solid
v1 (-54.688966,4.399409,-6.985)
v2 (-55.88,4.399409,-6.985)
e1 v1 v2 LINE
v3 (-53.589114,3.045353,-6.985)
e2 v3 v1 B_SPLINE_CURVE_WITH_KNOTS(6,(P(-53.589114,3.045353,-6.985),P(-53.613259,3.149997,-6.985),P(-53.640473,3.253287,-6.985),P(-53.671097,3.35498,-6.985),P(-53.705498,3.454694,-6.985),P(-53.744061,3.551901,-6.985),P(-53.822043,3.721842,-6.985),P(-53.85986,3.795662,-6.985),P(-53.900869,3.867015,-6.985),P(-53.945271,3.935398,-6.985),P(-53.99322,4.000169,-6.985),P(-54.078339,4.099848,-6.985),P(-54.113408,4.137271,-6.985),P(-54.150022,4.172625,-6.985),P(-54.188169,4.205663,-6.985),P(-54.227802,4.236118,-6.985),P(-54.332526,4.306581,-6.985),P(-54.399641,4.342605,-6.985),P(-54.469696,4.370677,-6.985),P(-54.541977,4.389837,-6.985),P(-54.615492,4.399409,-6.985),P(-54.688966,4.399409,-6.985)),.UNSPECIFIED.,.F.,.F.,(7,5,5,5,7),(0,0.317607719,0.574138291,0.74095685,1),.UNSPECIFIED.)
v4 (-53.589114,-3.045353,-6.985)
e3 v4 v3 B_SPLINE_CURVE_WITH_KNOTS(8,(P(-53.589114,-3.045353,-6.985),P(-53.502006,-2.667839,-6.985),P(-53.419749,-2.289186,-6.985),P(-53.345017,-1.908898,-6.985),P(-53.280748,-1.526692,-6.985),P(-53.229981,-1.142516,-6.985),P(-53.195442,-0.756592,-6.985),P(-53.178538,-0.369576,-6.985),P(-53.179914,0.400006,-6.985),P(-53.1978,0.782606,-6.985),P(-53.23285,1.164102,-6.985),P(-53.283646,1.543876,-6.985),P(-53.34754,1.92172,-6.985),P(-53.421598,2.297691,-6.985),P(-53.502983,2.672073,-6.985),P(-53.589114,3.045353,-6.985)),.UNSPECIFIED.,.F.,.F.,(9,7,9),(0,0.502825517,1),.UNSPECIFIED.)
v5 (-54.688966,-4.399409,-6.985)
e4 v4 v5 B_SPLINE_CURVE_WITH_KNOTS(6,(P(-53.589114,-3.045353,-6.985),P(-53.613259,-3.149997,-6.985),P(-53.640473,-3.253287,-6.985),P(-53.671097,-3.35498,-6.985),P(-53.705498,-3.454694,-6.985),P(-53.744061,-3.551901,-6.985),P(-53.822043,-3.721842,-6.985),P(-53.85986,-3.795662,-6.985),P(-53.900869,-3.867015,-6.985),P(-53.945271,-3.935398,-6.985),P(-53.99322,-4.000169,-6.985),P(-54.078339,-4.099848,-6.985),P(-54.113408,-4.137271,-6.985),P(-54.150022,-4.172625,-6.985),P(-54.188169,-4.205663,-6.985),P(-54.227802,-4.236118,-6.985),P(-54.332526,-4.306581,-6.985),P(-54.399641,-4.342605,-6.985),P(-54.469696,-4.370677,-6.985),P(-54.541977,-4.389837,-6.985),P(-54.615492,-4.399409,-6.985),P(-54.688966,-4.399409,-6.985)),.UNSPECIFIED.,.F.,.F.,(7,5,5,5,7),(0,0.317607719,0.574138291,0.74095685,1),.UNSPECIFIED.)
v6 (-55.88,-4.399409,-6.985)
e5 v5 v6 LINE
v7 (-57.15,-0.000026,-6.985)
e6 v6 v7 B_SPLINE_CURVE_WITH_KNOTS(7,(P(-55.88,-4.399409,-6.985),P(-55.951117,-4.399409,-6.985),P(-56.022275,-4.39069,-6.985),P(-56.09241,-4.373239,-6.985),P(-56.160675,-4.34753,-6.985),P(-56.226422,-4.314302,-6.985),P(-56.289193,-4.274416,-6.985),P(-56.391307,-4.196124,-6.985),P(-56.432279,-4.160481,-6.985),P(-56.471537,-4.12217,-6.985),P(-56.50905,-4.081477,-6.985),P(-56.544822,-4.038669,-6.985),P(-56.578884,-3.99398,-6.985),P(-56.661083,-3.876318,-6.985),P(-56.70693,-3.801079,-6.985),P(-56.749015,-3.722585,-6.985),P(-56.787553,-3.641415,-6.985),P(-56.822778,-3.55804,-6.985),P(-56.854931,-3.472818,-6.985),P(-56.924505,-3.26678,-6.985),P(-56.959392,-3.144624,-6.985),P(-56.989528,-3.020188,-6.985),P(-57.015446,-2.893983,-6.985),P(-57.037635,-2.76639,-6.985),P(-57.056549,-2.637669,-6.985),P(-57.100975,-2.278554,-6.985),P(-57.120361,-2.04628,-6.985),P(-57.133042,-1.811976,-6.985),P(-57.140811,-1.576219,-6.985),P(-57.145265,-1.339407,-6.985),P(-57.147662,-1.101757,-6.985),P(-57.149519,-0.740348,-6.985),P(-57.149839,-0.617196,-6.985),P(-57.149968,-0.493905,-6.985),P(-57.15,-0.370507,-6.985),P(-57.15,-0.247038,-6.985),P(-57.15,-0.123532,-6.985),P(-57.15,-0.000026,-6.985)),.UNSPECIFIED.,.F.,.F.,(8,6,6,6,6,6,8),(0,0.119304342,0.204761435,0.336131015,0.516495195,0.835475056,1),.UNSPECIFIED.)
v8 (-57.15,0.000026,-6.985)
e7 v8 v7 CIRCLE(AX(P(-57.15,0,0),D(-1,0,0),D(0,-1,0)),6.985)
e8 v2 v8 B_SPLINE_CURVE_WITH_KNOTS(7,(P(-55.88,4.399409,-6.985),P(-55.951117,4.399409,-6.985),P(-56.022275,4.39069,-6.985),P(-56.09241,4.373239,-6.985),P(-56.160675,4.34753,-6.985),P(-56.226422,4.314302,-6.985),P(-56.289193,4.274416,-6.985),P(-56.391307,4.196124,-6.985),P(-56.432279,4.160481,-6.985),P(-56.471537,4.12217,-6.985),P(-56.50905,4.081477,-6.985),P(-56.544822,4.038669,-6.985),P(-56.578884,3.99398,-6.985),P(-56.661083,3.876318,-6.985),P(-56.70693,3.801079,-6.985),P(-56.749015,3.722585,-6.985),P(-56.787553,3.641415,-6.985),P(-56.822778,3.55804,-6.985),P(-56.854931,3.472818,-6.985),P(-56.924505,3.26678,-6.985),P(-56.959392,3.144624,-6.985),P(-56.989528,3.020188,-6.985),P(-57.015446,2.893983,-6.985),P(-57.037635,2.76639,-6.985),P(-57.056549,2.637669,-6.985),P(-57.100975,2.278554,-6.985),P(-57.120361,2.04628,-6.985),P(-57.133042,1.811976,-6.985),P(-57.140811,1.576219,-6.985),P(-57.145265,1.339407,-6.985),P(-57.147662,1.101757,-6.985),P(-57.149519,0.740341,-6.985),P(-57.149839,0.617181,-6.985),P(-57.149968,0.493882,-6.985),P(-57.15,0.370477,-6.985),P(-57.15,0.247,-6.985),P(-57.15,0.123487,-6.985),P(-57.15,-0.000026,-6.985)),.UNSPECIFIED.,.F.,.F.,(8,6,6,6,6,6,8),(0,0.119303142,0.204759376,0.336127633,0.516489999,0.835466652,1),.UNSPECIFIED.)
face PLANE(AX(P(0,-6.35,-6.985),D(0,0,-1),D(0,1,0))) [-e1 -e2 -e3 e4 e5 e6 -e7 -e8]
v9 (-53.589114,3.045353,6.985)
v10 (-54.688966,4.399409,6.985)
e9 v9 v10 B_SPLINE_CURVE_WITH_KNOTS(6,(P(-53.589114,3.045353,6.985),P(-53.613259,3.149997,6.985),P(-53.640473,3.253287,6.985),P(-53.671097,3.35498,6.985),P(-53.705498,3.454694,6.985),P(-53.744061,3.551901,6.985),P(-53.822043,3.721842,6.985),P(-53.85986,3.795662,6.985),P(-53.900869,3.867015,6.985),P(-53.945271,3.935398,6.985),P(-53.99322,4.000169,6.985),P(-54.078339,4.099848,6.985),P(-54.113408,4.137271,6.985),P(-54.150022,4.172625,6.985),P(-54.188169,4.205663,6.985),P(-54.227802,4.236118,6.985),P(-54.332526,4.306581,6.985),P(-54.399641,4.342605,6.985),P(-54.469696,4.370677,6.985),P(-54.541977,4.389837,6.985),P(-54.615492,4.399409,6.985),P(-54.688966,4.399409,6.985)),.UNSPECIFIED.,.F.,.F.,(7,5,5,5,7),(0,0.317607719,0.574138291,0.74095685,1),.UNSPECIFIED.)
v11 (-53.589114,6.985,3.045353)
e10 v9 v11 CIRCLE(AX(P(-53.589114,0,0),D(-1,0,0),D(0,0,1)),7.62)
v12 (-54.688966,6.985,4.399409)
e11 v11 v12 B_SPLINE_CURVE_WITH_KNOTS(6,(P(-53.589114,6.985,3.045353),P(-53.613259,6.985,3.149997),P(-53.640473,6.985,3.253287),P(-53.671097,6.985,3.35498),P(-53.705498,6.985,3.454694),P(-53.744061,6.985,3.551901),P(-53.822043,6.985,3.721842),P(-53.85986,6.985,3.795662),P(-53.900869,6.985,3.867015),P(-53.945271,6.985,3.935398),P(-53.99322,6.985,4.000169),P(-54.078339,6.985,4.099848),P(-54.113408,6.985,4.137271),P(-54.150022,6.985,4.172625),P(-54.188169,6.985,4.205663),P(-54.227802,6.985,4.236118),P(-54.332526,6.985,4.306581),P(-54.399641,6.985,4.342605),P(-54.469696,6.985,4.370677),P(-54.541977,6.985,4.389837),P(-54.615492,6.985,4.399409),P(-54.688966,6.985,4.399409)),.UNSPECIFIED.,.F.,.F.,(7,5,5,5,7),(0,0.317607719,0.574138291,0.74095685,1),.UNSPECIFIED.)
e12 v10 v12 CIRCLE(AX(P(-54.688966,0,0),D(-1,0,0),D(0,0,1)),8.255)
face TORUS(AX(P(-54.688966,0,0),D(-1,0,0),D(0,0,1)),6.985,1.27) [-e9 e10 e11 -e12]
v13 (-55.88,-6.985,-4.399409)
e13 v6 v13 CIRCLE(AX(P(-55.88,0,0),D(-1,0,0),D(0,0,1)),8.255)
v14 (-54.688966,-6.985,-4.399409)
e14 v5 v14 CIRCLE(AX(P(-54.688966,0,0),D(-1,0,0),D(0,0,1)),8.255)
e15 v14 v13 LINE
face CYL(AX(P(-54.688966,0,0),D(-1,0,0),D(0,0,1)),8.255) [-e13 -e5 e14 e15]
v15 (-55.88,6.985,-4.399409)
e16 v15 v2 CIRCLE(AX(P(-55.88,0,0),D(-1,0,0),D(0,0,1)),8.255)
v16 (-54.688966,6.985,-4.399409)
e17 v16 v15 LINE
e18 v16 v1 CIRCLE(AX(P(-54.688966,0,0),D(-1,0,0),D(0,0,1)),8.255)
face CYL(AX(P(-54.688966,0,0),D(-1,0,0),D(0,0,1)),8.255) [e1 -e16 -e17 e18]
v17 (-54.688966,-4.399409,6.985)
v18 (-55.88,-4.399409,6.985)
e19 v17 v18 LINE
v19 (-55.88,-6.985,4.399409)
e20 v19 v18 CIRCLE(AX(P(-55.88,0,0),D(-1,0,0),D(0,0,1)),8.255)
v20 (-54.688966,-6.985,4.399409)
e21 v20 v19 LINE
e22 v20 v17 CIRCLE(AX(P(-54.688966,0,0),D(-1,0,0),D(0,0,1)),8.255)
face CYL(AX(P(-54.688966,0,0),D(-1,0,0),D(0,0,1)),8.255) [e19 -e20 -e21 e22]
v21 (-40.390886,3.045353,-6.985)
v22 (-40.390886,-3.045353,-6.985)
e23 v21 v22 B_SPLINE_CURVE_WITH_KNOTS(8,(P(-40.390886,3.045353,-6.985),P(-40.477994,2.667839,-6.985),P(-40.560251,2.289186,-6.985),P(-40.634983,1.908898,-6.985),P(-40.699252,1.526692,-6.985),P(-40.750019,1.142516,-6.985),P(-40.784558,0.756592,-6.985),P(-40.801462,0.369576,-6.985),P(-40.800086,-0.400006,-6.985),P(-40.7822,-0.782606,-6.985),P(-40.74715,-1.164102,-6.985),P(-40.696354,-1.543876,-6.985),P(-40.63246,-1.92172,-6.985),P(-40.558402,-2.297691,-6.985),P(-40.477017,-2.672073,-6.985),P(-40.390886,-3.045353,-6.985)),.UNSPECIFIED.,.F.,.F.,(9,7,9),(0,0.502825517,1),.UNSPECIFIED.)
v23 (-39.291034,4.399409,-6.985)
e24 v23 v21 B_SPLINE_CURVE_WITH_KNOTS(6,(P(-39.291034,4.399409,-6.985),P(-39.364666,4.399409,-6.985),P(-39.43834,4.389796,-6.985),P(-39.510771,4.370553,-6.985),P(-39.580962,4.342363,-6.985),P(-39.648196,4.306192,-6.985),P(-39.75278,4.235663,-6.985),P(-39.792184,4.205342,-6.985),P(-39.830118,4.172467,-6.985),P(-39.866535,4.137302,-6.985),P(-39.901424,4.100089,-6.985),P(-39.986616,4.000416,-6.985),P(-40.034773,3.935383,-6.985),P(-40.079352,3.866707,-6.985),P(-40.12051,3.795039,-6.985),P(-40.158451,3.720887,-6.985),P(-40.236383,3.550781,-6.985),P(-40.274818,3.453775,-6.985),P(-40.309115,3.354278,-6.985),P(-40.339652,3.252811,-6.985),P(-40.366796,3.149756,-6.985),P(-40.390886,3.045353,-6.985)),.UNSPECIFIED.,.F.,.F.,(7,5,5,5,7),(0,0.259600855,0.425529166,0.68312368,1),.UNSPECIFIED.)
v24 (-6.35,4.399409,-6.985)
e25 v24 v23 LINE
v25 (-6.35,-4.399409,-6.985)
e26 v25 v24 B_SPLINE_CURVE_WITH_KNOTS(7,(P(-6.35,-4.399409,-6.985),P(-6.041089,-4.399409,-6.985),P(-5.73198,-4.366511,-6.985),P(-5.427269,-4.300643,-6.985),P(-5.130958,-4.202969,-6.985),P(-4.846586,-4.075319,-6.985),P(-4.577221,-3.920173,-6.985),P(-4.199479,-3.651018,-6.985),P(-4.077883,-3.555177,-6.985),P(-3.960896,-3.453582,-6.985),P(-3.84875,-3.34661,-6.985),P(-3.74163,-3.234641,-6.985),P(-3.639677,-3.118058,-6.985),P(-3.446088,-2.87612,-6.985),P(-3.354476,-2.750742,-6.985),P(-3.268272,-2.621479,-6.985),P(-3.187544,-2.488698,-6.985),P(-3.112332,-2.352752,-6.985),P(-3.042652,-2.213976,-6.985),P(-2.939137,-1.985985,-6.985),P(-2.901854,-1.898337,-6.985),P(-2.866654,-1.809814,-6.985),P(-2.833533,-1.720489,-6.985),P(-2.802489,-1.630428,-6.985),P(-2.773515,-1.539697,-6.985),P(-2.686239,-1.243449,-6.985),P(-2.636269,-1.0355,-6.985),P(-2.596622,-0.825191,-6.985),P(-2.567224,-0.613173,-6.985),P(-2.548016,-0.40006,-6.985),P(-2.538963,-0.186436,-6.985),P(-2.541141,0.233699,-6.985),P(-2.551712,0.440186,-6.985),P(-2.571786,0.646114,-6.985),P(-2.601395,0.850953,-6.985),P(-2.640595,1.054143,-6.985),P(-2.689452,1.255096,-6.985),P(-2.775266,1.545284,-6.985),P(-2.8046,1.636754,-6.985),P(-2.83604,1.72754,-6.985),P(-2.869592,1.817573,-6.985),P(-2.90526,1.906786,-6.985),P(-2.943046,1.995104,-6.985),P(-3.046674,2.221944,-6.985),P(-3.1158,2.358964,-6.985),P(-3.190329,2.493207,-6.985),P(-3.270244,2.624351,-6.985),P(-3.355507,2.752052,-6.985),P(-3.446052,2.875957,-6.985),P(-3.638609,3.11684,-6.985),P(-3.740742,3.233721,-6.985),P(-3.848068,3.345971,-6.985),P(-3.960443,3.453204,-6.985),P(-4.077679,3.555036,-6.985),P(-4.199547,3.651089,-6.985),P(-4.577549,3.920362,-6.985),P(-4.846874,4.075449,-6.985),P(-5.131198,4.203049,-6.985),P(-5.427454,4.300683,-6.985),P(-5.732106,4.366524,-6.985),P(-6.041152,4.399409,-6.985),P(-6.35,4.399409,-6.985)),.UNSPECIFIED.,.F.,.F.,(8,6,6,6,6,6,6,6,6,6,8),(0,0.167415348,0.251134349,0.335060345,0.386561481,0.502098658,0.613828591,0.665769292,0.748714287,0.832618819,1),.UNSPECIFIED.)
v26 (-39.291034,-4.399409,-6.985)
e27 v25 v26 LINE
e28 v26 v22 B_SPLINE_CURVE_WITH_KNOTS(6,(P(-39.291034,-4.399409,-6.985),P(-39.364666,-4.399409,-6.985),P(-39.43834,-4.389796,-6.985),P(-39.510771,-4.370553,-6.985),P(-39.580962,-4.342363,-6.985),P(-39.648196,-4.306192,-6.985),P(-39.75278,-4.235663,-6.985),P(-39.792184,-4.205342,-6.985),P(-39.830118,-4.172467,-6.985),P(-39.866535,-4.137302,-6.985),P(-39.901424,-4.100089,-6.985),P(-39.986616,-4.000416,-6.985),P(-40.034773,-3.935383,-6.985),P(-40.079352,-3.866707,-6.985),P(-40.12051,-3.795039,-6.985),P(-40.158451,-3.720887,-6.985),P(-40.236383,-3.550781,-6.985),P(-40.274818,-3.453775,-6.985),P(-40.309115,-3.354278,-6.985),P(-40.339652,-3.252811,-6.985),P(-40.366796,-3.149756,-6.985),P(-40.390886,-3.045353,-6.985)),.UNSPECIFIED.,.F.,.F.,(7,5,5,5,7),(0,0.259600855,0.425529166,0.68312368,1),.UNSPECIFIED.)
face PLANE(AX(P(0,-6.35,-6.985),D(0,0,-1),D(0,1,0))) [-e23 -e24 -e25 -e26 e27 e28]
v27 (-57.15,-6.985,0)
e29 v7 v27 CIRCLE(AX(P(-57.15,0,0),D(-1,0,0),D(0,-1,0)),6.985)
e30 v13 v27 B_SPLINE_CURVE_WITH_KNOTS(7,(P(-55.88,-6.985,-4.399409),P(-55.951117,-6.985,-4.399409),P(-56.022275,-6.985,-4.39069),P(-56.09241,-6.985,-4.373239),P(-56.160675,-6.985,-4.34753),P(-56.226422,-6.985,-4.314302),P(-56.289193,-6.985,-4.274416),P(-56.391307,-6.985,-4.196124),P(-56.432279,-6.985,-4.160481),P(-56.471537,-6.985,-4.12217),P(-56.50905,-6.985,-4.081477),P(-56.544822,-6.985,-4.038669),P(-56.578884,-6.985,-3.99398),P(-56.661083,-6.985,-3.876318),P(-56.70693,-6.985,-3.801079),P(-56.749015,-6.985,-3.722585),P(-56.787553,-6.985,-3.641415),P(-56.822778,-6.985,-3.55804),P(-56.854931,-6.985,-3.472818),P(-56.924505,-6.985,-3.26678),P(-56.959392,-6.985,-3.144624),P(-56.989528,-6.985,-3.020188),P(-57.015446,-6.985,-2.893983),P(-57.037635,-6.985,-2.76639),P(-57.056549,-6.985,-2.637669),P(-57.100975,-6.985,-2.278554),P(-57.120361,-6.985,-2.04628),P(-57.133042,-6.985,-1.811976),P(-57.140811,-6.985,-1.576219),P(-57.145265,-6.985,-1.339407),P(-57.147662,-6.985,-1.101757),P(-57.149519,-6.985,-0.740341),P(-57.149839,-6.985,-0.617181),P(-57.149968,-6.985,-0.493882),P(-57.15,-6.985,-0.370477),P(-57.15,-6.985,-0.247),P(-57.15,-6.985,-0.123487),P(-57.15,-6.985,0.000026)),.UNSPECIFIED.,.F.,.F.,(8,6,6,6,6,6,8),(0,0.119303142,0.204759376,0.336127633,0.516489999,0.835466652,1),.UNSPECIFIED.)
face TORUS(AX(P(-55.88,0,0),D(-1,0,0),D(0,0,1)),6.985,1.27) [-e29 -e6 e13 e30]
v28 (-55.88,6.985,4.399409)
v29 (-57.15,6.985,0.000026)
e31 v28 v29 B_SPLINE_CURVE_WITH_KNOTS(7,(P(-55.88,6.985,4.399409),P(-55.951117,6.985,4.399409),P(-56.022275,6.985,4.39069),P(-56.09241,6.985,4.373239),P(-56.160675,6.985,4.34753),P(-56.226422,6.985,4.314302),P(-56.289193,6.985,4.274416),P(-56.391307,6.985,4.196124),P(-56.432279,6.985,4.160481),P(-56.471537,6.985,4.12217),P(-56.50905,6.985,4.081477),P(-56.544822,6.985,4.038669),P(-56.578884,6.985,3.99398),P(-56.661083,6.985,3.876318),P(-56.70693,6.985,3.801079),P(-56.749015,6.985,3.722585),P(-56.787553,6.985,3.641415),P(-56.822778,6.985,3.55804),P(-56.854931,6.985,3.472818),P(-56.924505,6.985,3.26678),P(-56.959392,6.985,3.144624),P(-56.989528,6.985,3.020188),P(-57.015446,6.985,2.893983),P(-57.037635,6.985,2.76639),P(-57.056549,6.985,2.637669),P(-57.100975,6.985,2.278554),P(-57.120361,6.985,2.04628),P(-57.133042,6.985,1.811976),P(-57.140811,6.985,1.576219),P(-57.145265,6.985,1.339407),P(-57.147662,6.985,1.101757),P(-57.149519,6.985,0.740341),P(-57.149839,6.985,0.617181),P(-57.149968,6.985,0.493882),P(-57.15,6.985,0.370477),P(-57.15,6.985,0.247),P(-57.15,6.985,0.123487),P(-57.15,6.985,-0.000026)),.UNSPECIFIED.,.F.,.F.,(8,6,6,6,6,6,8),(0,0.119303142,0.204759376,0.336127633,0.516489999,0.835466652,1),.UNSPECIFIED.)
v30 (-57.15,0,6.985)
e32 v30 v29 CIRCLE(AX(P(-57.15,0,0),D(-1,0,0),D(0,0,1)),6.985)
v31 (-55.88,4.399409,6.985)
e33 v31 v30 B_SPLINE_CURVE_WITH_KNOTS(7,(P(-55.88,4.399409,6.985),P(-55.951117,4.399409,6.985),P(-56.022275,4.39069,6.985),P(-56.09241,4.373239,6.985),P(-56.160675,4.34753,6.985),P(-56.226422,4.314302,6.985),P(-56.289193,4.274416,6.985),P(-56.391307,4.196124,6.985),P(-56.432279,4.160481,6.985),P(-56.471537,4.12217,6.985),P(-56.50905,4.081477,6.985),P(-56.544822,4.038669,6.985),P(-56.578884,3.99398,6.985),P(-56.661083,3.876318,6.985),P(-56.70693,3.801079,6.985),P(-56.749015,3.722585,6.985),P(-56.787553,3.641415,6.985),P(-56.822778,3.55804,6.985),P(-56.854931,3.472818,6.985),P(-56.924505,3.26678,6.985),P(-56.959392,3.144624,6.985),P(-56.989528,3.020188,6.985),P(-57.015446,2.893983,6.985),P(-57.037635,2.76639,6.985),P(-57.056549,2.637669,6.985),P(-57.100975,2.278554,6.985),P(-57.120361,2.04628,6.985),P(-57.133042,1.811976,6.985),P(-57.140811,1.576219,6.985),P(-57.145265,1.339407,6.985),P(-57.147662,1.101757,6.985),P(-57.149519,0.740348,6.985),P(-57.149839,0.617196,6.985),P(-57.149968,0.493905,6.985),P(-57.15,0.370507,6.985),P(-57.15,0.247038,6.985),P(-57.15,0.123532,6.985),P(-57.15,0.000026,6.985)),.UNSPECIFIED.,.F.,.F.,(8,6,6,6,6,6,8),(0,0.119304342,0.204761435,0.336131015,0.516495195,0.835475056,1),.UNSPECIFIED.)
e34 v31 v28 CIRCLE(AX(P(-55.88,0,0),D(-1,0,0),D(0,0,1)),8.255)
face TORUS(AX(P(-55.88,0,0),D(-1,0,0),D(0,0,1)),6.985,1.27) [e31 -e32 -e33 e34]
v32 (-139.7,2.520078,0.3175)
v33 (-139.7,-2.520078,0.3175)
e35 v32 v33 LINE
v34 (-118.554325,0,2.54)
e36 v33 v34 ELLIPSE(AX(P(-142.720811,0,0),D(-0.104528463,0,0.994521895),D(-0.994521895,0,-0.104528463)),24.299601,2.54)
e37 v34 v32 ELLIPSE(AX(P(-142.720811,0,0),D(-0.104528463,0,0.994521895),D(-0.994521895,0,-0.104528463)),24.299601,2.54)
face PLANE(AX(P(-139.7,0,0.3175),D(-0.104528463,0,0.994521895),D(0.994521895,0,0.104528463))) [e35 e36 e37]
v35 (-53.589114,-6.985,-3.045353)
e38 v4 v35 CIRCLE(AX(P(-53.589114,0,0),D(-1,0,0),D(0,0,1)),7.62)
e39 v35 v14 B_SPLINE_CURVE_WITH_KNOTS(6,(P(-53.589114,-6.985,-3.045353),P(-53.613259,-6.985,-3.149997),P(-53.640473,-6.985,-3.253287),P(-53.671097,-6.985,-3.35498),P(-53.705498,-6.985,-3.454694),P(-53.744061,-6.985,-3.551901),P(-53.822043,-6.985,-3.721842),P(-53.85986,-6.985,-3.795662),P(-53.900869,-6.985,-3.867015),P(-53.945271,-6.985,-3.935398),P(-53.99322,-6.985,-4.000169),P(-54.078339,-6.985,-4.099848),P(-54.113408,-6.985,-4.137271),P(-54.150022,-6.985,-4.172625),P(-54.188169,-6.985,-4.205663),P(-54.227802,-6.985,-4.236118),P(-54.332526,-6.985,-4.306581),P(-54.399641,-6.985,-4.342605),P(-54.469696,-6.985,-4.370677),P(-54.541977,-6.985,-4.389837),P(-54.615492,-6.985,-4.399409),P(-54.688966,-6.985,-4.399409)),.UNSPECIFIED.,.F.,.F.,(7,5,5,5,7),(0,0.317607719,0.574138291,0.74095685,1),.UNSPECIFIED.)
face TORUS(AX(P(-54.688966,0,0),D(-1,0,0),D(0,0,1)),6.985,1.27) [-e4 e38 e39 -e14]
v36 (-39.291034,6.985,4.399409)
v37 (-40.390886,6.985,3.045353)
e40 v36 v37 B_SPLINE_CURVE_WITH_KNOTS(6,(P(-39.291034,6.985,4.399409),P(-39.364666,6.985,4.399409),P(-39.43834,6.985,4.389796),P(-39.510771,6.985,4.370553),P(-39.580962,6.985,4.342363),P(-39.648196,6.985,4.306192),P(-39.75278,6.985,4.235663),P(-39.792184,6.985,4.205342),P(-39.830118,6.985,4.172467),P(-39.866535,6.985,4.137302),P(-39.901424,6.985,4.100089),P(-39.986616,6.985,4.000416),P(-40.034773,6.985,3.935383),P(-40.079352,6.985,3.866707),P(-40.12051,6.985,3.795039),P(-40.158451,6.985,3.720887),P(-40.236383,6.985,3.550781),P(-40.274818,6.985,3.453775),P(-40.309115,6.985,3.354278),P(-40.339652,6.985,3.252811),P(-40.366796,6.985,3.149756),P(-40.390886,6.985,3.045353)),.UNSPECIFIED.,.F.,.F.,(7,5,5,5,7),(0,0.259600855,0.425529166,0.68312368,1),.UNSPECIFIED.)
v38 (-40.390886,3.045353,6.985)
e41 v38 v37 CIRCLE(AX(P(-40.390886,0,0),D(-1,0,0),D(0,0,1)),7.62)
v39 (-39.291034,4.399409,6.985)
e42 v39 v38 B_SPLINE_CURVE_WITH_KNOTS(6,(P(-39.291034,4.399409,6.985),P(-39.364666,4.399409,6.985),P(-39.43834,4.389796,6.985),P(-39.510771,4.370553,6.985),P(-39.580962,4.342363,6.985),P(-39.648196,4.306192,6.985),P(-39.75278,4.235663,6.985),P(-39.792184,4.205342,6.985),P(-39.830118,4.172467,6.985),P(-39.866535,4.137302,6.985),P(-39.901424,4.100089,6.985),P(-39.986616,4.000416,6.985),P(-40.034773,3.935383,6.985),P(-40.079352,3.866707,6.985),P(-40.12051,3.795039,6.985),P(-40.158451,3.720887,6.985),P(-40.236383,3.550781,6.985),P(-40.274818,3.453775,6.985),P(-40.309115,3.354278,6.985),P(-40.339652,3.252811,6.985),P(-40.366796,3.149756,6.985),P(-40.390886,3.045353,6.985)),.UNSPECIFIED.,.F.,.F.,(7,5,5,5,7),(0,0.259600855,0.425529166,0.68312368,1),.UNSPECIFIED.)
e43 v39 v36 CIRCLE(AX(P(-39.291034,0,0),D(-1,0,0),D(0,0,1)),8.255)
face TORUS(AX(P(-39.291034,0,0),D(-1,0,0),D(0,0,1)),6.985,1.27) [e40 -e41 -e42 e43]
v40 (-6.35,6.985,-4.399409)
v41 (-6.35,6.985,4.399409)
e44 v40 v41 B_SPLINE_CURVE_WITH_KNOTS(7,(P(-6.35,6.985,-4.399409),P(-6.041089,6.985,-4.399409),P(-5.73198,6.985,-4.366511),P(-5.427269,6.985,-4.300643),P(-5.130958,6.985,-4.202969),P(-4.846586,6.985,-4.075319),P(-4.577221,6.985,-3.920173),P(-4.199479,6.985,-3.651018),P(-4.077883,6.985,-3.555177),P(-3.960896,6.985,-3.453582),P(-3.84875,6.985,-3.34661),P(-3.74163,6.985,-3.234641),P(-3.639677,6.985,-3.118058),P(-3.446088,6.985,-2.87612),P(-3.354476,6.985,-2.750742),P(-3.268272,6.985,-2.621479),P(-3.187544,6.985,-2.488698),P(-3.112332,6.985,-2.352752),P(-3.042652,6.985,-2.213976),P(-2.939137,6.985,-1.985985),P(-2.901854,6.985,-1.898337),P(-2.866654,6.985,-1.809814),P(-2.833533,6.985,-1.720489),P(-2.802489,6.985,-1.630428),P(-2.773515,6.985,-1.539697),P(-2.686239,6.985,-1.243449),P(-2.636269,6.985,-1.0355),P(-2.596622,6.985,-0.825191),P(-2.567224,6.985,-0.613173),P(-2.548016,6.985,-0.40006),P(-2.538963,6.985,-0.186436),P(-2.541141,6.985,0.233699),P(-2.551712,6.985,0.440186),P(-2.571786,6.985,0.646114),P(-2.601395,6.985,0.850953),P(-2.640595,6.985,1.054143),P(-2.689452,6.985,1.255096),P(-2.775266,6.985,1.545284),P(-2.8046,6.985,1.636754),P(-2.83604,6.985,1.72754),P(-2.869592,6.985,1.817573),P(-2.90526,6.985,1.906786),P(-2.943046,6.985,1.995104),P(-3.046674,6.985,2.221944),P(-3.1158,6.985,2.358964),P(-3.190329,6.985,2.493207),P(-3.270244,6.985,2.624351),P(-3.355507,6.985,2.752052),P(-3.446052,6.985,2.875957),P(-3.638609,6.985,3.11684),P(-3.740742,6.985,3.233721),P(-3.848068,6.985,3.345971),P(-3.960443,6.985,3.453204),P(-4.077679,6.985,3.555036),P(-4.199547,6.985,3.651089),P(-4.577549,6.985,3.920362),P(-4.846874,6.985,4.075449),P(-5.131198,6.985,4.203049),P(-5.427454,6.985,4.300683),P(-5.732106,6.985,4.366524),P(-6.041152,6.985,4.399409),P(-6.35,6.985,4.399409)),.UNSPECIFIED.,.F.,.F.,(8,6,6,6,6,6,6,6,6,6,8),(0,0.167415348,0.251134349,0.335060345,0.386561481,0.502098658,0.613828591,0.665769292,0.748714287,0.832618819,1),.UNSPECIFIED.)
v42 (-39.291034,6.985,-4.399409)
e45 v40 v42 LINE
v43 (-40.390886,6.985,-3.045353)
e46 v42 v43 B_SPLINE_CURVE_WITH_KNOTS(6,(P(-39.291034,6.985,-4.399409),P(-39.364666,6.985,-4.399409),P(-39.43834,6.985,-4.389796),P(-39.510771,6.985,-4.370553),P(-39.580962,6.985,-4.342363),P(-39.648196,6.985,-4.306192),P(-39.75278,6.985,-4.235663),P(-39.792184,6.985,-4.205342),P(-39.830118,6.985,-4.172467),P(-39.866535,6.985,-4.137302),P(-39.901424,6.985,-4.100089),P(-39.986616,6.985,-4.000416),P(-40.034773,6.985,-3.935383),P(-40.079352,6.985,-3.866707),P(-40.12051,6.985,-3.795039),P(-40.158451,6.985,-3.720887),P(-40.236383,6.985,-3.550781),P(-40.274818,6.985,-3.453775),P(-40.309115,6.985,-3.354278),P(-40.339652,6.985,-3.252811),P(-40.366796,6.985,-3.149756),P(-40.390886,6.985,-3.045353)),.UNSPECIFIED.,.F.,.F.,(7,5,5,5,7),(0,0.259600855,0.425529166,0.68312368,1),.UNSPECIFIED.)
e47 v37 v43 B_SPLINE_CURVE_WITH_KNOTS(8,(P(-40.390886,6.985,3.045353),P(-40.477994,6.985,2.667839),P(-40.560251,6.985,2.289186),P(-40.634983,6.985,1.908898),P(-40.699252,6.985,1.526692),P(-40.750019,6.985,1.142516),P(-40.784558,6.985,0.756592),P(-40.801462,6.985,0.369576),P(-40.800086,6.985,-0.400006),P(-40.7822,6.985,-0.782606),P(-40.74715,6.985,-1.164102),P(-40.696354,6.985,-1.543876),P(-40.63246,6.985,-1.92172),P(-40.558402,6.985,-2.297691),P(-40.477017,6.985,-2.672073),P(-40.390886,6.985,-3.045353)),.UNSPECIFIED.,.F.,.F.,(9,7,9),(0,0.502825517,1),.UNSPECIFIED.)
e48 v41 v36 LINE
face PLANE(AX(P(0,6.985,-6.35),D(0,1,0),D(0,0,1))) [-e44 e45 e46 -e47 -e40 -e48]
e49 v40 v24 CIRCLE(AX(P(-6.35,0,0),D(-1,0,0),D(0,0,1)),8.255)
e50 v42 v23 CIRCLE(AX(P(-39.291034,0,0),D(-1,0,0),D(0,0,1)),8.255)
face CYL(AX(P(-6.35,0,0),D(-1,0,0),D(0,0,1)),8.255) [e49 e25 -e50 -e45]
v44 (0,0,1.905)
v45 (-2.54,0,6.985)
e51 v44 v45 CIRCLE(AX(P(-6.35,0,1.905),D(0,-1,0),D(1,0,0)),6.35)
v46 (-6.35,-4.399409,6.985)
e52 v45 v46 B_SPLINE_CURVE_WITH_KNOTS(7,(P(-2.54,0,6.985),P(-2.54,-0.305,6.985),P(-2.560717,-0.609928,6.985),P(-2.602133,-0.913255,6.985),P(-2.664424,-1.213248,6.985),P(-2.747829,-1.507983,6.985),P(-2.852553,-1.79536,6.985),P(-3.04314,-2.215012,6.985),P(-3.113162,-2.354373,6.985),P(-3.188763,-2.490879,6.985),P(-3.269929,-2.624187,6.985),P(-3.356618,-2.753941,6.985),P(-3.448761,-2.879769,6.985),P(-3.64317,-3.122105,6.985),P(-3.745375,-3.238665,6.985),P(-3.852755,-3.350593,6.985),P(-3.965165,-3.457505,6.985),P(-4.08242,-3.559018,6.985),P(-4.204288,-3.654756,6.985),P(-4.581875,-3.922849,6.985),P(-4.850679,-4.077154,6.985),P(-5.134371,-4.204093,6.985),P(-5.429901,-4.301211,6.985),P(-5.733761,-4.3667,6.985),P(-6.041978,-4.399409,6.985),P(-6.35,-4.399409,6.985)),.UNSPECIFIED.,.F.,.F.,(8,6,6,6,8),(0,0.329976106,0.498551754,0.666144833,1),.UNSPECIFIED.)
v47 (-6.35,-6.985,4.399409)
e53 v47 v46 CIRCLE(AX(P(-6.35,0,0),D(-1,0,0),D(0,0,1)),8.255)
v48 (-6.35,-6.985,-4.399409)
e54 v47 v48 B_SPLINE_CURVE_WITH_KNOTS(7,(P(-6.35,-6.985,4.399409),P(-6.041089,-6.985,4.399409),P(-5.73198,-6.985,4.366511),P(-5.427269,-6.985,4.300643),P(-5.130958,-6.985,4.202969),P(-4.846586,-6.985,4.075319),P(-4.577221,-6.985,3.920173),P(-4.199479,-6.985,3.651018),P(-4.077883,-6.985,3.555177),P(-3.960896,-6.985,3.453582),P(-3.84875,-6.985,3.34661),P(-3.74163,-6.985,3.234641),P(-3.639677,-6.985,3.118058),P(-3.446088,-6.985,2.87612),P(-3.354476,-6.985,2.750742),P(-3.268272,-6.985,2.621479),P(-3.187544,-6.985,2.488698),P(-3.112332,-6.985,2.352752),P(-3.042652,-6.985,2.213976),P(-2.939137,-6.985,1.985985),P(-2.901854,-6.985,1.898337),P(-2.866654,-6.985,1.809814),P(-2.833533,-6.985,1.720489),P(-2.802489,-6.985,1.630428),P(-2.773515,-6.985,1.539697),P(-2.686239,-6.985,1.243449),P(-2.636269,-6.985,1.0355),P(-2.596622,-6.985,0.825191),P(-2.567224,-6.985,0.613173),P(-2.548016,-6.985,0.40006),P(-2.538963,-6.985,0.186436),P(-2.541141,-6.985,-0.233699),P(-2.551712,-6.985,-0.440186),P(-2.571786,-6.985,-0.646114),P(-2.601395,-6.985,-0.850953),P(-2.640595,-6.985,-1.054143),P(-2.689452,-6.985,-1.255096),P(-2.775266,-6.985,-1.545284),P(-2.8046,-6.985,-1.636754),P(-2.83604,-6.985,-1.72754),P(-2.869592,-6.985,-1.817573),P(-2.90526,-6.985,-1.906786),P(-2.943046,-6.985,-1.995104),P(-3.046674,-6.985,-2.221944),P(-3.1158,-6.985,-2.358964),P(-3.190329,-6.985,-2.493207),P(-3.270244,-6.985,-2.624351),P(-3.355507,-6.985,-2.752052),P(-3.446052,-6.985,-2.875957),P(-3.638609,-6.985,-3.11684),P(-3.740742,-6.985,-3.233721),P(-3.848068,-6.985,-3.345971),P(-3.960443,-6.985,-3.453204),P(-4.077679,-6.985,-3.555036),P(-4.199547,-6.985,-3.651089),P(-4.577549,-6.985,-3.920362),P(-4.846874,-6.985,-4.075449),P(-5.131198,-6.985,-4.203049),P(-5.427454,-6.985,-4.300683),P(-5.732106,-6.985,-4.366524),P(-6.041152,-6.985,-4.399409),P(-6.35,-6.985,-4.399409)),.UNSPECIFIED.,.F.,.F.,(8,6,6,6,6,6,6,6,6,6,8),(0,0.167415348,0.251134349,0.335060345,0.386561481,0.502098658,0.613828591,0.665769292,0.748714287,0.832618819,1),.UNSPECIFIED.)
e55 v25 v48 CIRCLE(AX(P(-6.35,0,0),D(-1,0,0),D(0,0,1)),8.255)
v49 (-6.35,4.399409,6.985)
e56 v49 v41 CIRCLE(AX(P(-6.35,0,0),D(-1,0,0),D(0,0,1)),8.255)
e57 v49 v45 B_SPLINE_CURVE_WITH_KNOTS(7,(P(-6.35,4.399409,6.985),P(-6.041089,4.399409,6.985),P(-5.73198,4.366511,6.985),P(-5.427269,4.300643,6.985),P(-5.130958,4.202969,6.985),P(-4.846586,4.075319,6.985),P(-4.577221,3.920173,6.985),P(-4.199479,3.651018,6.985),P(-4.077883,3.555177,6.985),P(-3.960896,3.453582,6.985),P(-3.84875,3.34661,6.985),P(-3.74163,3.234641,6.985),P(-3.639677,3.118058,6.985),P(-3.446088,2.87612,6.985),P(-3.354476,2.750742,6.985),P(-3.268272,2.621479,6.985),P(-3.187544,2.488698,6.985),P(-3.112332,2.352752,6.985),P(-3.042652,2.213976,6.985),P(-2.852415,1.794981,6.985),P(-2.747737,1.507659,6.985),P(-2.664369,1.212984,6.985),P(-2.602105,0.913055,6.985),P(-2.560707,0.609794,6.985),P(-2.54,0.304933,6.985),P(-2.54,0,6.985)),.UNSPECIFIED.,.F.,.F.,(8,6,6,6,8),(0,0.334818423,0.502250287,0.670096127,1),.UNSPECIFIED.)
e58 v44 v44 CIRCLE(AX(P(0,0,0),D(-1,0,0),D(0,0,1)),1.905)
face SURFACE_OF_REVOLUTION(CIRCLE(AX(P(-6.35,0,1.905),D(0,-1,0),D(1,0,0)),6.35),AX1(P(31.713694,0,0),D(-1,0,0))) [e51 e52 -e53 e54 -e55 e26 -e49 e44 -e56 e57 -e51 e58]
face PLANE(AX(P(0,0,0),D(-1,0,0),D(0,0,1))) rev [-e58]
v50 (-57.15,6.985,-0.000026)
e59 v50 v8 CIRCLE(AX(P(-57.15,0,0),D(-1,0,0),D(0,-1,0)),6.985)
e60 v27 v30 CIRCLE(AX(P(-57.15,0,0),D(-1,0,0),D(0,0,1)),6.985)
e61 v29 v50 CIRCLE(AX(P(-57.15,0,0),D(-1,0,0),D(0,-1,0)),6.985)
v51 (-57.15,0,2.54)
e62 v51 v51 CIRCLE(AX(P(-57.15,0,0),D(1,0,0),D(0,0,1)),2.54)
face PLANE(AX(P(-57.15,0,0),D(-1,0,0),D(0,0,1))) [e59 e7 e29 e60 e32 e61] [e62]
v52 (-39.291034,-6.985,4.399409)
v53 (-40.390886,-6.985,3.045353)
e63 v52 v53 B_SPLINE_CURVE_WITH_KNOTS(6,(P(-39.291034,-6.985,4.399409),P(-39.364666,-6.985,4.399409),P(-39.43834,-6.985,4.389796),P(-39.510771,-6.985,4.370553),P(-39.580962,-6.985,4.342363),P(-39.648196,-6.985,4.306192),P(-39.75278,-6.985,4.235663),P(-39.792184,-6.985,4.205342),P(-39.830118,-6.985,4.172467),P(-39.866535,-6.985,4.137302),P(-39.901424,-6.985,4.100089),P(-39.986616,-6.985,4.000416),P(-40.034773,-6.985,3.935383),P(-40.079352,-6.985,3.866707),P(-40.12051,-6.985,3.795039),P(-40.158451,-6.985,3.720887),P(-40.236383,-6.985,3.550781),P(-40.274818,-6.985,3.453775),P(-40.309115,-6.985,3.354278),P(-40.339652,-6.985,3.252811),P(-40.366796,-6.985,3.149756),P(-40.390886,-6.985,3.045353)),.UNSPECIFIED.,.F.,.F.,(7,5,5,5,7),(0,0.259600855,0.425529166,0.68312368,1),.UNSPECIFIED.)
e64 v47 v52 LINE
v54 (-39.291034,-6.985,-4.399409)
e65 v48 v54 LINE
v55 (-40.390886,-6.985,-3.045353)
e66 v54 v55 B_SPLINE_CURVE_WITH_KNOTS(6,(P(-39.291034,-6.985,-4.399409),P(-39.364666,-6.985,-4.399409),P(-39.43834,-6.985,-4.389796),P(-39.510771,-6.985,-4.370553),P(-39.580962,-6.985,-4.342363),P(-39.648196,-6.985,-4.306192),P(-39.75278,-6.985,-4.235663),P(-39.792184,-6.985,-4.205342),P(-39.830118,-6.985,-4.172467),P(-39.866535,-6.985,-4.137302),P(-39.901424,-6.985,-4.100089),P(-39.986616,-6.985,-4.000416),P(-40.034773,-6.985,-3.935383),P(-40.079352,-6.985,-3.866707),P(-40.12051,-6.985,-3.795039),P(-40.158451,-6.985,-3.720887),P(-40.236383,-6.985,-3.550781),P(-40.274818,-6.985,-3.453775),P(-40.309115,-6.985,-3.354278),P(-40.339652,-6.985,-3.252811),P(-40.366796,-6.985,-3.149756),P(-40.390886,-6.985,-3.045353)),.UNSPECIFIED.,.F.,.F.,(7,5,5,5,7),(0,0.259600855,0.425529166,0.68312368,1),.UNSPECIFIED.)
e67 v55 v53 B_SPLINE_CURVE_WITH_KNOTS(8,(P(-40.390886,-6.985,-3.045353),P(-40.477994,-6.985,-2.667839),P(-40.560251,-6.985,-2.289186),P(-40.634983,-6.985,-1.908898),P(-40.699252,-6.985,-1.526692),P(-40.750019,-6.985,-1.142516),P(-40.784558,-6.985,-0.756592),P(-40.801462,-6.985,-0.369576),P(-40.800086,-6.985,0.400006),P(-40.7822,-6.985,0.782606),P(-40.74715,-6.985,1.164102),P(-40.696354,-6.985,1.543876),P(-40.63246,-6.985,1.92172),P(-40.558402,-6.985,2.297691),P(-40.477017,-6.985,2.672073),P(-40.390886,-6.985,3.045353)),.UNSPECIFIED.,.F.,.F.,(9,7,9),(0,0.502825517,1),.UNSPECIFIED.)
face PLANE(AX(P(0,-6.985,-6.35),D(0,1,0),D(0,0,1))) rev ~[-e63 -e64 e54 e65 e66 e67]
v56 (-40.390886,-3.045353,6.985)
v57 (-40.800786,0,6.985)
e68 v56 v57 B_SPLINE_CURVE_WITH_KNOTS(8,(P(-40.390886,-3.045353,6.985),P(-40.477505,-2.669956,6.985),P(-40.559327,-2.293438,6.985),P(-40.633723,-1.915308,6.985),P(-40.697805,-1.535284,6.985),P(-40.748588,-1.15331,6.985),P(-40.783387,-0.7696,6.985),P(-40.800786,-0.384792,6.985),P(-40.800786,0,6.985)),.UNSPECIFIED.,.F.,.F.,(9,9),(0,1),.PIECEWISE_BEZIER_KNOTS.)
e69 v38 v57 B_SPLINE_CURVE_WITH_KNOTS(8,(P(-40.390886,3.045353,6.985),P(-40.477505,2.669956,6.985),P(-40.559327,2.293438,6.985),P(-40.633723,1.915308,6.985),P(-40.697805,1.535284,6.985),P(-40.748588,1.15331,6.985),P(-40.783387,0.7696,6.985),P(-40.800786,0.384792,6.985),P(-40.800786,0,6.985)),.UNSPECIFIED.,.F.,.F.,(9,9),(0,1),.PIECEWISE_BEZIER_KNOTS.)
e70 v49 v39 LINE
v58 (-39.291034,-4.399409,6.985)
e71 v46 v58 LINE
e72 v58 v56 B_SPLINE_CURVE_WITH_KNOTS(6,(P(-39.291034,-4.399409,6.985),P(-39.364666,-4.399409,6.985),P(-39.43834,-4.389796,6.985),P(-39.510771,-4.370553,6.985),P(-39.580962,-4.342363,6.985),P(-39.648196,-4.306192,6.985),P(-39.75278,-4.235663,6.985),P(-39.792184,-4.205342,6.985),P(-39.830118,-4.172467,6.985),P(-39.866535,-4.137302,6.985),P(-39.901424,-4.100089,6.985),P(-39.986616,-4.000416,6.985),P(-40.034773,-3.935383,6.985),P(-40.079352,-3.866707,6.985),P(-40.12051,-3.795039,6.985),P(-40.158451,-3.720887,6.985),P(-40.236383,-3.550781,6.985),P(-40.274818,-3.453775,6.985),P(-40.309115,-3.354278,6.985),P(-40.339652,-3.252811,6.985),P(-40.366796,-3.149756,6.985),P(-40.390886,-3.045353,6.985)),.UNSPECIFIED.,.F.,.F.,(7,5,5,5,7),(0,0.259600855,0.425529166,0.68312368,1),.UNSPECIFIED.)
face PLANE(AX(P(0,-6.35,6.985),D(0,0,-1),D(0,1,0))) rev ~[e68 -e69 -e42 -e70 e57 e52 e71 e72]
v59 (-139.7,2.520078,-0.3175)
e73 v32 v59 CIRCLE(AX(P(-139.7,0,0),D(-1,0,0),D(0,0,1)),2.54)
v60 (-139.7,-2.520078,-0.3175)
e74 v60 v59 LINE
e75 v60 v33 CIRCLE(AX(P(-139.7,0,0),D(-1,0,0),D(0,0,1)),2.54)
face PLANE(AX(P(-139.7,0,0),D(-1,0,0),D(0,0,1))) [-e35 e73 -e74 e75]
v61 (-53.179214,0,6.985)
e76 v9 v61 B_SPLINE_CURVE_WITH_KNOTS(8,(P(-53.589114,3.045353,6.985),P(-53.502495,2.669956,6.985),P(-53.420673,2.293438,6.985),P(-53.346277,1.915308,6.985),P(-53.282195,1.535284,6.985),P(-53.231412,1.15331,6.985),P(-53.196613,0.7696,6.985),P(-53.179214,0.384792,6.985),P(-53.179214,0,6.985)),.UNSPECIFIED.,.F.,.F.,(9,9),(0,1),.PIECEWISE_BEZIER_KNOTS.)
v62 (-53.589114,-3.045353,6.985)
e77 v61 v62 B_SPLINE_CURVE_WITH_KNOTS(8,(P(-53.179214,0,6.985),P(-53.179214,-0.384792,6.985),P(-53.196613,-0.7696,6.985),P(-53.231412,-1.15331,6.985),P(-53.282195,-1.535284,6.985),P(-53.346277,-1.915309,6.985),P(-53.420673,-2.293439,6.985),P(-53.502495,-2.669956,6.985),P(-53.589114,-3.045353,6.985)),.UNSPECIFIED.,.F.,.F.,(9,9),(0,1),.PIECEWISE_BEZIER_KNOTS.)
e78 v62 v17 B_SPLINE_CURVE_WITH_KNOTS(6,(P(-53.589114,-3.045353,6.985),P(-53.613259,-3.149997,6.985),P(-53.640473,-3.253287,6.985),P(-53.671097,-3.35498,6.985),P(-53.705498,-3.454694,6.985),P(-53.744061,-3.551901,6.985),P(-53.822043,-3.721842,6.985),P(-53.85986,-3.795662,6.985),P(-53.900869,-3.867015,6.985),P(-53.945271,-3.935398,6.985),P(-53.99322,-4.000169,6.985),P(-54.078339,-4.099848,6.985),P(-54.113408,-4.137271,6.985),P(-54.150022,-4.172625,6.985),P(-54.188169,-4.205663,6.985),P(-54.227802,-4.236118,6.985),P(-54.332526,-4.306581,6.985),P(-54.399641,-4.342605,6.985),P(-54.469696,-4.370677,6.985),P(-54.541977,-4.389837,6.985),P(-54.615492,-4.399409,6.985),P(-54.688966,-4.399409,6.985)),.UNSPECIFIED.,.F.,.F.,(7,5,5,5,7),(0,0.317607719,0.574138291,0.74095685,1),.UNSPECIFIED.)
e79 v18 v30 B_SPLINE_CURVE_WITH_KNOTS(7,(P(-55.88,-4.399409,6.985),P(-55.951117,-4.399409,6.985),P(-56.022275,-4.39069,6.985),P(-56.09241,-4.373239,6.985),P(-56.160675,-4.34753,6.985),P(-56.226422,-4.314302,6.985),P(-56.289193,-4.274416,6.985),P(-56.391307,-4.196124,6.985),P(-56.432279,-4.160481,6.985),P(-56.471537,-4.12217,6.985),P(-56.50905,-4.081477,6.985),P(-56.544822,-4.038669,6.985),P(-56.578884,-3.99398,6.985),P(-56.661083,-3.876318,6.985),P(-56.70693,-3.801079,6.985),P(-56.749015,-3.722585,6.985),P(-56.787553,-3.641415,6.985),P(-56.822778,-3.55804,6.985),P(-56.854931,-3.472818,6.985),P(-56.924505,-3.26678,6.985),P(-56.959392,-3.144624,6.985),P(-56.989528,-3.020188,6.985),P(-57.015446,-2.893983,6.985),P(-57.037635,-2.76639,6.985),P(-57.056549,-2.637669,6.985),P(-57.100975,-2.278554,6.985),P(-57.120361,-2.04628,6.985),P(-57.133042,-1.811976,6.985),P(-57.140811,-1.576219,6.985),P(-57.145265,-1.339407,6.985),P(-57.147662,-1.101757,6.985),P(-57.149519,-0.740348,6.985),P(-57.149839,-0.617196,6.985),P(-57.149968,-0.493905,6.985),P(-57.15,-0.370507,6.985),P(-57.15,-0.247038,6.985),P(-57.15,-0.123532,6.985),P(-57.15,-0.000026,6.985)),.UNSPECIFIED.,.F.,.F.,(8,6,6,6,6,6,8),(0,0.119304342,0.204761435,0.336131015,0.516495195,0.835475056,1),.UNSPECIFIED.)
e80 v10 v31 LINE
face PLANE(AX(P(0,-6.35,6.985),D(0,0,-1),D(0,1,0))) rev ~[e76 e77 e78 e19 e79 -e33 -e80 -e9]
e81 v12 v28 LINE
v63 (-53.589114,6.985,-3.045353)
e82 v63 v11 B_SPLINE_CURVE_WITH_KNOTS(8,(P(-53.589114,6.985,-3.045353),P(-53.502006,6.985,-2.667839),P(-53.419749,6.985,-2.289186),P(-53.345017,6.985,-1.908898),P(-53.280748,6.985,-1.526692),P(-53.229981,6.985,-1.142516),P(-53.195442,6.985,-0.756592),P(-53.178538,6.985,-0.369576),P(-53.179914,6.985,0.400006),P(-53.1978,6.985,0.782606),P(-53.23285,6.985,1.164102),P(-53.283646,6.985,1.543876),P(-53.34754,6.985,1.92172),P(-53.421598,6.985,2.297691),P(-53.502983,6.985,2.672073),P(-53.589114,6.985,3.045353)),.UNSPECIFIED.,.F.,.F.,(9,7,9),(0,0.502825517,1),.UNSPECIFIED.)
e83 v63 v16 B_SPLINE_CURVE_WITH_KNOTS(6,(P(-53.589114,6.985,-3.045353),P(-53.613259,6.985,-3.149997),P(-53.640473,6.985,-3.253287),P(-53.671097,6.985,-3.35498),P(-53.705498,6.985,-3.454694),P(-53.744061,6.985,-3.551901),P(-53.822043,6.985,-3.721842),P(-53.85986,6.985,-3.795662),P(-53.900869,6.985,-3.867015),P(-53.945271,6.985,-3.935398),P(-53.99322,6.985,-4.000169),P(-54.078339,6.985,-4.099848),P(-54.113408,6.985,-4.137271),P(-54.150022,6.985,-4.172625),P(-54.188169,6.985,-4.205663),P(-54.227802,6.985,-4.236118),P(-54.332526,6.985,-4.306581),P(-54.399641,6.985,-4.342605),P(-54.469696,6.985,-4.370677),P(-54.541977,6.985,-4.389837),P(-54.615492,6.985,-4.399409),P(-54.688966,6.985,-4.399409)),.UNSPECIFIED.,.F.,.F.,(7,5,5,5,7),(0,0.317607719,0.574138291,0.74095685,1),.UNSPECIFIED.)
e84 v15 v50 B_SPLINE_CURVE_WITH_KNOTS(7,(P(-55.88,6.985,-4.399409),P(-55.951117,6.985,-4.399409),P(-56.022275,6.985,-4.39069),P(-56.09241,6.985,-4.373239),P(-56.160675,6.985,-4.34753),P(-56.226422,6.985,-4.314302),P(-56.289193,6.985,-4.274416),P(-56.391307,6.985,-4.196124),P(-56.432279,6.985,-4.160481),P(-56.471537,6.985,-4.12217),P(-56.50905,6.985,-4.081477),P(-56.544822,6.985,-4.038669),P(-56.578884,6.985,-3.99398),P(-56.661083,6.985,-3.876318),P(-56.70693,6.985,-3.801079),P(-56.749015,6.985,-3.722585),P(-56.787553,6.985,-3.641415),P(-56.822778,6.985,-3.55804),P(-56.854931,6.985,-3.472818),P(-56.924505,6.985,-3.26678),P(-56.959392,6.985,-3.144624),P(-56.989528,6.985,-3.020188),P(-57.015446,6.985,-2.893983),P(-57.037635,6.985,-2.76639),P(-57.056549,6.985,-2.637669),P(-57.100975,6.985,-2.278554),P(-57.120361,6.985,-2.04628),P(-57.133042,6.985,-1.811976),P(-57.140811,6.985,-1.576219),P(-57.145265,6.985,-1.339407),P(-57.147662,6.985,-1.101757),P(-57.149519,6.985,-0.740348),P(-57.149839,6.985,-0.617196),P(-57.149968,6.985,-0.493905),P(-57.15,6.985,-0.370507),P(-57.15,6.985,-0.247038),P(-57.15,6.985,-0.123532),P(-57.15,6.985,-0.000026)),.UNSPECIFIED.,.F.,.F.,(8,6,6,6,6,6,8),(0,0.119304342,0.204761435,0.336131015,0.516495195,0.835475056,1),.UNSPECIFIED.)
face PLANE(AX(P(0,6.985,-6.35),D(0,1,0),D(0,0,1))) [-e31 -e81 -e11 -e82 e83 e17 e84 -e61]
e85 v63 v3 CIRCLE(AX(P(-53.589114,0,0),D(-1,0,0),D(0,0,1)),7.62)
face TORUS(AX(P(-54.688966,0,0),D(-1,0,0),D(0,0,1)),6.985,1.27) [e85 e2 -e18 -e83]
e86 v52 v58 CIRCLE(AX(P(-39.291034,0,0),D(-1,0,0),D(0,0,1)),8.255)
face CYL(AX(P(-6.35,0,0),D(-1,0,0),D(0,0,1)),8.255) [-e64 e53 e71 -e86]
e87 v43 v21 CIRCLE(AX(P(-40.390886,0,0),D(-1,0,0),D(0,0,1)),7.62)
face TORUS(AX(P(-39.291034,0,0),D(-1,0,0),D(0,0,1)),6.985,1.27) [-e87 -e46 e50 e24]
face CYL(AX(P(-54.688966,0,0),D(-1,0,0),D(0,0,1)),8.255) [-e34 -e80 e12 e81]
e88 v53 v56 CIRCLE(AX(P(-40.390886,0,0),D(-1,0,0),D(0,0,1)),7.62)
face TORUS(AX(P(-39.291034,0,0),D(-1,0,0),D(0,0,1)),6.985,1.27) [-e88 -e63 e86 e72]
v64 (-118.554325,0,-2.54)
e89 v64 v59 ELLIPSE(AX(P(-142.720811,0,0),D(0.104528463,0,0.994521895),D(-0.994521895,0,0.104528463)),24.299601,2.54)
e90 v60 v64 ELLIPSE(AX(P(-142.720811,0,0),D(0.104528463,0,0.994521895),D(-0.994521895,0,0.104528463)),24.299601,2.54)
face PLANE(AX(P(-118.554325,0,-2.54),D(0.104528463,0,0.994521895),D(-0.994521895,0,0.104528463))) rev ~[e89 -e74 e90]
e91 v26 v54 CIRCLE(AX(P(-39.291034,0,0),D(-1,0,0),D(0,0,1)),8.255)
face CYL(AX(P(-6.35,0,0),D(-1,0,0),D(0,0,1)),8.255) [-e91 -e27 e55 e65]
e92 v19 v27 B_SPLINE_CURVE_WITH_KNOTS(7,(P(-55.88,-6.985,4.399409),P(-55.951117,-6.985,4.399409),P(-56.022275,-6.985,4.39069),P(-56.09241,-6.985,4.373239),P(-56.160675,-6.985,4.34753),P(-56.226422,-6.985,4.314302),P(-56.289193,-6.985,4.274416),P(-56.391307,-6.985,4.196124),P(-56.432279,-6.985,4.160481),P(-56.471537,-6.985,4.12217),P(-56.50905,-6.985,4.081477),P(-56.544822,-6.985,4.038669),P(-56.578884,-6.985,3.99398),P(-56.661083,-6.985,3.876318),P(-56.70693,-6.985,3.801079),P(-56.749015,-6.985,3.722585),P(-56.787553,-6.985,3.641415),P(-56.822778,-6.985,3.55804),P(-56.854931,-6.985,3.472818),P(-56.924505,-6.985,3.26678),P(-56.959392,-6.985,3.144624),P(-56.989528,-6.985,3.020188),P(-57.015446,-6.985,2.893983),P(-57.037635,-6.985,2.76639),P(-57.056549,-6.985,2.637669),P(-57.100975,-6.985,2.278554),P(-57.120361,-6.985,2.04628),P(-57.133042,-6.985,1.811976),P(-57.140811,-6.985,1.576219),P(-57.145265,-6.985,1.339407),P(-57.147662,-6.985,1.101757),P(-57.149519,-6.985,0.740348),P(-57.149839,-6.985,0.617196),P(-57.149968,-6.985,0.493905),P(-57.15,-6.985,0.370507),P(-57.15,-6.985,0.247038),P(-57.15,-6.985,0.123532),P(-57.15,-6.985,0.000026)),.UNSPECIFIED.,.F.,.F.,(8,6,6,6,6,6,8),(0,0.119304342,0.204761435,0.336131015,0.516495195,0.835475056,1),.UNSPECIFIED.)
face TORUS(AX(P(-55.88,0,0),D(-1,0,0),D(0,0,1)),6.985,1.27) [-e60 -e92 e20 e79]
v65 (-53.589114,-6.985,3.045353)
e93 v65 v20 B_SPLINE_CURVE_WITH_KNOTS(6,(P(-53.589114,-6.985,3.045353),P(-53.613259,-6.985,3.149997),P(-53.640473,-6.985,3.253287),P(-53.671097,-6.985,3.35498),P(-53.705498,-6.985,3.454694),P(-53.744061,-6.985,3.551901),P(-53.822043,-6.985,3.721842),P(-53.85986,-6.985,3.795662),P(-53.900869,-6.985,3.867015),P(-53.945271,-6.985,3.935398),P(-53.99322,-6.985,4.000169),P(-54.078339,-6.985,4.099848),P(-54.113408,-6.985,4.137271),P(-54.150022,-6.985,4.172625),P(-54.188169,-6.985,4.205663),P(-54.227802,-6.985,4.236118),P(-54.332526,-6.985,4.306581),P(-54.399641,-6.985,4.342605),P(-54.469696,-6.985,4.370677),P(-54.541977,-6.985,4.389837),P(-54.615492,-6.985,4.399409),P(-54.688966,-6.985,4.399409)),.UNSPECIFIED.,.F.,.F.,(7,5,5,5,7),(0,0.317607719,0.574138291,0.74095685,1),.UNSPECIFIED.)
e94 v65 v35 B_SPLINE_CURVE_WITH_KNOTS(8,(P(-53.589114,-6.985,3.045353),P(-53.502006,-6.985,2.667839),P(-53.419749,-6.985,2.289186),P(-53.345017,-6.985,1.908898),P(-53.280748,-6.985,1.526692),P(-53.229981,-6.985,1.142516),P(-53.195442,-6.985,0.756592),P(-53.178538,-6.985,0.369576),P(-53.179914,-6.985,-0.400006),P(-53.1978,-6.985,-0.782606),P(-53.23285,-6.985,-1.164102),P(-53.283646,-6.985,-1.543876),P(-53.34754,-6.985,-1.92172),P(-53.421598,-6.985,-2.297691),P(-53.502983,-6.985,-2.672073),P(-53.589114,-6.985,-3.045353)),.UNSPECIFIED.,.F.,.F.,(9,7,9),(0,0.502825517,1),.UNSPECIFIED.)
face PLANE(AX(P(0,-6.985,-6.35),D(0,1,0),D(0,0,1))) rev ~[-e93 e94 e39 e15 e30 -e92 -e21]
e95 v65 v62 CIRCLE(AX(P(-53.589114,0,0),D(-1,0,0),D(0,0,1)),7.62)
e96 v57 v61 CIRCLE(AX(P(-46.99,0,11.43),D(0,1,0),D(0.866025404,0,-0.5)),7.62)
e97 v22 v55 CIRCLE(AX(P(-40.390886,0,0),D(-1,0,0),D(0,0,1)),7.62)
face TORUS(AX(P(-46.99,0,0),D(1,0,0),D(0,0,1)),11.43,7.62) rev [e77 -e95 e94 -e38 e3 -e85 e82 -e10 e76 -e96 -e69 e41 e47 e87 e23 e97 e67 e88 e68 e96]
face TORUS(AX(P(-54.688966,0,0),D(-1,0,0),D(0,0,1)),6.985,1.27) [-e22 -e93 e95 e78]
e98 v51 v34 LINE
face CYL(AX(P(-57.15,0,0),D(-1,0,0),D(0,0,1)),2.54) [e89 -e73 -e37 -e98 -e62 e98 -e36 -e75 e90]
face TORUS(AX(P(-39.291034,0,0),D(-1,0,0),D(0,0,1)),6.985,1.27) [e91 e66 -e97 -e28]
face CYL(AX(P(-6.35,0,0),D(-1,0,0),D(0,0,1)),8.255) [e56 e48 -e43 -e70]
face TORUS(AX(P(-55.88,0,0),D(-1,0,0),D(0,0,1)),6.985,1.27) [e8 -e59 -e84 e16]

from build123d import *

# Parameters (mm, degrees)
F3_W        = 1.8414998049
F3_H        = 12.7
F3_W_2      = 12.7
F3_H_2      = 1.8414998049
F1_FACE_R   = 6.985
F1_FACE_R_2 = 2.54
F4_DEPTH    = 59.8805
F5_DEPTH    = 12.7


with BuildPart() as f1:
    # F0 (on Front) → F1 (revolve)
    with BuildSketch(Plane.XZ):
        with BuildLine():
            Line((-139.7, 0), (0, 0))
            Line((0, 0), (0, 1.905))
            ThreePointArc((0, 1.905), (-1.8598719395, 6.3951280605), (-6.35, 8.255))
            Line((-6.35, 8.255), (-39.2910341604, 8.255))
            ThreePointArc((-39.2910341604, 8.255), (-39.9260341604, 8.0848522628), (-40.3908864232, 7.62))
            ThreePointArc((-40.3908864232, 7.62), (-46.99, 3.81), (-53.5891135768, 7.62))
            ThreePointArc((-53.5891135768, 7.62), (-54.0539658396, 8.0848522628), (-54.6889658396, 8.255))
            Line((-54.6889658396, 8.255), (-55.88, 8.255))
            ThreePointArc((-55.88, 8.255), (-56.7780256121, 7.8830256121), (-57.15, 6.985))
            Line((-57.15, 6.985), (-57.15, 2.54))
            Line((-57.15, 2.54), (-139.7, 2.54))
            Line((-139.7, 2.54), (-139.7, 0))
        make_face()
    revolve(axis=Axis((31.713694334, 0, 0), (-1, 0, 0)))

    # F3 (on Right) + F1_face (on face) → F4 (cut)
    with BuildSketch(Plane.YZ):
        with Locations((7.9057499024, 0)):
            Rectangle(F3_W, F3_H)
        with Locations((0, 7.9057499024)):
            Rectangle(F3_W_2, F3_H_2)
        with Locations((-7.9057499024, 0)):
            Rectangle(F3_W, F3_H)
        with Locations((0, -7.9057499024)):
            Rectangle(F3_W_2, F3_H_2)
    with BuildSketch(Plane(origin=(-57.15, 0, 0), x_dir=(0, -1, 0), z_dir=(-1, 0, 0))):
        Circle(F1_FACE_R)
        Circle(F1_FACE_R_2, mode=Mode.SUBTRACT)
    extrude(amount=-F4_DEPTH, dir=(1, 0, 0), mode=Mode.SUBTRACT)

    # F2 (on Front) → F5 (cut, symmetric)
    with BuildSketch(Plane.XZ):
        Polygon((-139.7, 2.54), (-139.7, 0.3175), (-118.5543250005, 2.54), align=None)
        Polygon((-139.7, -0.3175), (-139.7, -2.54), (-118.5543250005, -2.54), align=None)
    extrude(amount=F5_DEPTH, both=True, mode=Mode.SUBTRACT)


solid = f1.part
